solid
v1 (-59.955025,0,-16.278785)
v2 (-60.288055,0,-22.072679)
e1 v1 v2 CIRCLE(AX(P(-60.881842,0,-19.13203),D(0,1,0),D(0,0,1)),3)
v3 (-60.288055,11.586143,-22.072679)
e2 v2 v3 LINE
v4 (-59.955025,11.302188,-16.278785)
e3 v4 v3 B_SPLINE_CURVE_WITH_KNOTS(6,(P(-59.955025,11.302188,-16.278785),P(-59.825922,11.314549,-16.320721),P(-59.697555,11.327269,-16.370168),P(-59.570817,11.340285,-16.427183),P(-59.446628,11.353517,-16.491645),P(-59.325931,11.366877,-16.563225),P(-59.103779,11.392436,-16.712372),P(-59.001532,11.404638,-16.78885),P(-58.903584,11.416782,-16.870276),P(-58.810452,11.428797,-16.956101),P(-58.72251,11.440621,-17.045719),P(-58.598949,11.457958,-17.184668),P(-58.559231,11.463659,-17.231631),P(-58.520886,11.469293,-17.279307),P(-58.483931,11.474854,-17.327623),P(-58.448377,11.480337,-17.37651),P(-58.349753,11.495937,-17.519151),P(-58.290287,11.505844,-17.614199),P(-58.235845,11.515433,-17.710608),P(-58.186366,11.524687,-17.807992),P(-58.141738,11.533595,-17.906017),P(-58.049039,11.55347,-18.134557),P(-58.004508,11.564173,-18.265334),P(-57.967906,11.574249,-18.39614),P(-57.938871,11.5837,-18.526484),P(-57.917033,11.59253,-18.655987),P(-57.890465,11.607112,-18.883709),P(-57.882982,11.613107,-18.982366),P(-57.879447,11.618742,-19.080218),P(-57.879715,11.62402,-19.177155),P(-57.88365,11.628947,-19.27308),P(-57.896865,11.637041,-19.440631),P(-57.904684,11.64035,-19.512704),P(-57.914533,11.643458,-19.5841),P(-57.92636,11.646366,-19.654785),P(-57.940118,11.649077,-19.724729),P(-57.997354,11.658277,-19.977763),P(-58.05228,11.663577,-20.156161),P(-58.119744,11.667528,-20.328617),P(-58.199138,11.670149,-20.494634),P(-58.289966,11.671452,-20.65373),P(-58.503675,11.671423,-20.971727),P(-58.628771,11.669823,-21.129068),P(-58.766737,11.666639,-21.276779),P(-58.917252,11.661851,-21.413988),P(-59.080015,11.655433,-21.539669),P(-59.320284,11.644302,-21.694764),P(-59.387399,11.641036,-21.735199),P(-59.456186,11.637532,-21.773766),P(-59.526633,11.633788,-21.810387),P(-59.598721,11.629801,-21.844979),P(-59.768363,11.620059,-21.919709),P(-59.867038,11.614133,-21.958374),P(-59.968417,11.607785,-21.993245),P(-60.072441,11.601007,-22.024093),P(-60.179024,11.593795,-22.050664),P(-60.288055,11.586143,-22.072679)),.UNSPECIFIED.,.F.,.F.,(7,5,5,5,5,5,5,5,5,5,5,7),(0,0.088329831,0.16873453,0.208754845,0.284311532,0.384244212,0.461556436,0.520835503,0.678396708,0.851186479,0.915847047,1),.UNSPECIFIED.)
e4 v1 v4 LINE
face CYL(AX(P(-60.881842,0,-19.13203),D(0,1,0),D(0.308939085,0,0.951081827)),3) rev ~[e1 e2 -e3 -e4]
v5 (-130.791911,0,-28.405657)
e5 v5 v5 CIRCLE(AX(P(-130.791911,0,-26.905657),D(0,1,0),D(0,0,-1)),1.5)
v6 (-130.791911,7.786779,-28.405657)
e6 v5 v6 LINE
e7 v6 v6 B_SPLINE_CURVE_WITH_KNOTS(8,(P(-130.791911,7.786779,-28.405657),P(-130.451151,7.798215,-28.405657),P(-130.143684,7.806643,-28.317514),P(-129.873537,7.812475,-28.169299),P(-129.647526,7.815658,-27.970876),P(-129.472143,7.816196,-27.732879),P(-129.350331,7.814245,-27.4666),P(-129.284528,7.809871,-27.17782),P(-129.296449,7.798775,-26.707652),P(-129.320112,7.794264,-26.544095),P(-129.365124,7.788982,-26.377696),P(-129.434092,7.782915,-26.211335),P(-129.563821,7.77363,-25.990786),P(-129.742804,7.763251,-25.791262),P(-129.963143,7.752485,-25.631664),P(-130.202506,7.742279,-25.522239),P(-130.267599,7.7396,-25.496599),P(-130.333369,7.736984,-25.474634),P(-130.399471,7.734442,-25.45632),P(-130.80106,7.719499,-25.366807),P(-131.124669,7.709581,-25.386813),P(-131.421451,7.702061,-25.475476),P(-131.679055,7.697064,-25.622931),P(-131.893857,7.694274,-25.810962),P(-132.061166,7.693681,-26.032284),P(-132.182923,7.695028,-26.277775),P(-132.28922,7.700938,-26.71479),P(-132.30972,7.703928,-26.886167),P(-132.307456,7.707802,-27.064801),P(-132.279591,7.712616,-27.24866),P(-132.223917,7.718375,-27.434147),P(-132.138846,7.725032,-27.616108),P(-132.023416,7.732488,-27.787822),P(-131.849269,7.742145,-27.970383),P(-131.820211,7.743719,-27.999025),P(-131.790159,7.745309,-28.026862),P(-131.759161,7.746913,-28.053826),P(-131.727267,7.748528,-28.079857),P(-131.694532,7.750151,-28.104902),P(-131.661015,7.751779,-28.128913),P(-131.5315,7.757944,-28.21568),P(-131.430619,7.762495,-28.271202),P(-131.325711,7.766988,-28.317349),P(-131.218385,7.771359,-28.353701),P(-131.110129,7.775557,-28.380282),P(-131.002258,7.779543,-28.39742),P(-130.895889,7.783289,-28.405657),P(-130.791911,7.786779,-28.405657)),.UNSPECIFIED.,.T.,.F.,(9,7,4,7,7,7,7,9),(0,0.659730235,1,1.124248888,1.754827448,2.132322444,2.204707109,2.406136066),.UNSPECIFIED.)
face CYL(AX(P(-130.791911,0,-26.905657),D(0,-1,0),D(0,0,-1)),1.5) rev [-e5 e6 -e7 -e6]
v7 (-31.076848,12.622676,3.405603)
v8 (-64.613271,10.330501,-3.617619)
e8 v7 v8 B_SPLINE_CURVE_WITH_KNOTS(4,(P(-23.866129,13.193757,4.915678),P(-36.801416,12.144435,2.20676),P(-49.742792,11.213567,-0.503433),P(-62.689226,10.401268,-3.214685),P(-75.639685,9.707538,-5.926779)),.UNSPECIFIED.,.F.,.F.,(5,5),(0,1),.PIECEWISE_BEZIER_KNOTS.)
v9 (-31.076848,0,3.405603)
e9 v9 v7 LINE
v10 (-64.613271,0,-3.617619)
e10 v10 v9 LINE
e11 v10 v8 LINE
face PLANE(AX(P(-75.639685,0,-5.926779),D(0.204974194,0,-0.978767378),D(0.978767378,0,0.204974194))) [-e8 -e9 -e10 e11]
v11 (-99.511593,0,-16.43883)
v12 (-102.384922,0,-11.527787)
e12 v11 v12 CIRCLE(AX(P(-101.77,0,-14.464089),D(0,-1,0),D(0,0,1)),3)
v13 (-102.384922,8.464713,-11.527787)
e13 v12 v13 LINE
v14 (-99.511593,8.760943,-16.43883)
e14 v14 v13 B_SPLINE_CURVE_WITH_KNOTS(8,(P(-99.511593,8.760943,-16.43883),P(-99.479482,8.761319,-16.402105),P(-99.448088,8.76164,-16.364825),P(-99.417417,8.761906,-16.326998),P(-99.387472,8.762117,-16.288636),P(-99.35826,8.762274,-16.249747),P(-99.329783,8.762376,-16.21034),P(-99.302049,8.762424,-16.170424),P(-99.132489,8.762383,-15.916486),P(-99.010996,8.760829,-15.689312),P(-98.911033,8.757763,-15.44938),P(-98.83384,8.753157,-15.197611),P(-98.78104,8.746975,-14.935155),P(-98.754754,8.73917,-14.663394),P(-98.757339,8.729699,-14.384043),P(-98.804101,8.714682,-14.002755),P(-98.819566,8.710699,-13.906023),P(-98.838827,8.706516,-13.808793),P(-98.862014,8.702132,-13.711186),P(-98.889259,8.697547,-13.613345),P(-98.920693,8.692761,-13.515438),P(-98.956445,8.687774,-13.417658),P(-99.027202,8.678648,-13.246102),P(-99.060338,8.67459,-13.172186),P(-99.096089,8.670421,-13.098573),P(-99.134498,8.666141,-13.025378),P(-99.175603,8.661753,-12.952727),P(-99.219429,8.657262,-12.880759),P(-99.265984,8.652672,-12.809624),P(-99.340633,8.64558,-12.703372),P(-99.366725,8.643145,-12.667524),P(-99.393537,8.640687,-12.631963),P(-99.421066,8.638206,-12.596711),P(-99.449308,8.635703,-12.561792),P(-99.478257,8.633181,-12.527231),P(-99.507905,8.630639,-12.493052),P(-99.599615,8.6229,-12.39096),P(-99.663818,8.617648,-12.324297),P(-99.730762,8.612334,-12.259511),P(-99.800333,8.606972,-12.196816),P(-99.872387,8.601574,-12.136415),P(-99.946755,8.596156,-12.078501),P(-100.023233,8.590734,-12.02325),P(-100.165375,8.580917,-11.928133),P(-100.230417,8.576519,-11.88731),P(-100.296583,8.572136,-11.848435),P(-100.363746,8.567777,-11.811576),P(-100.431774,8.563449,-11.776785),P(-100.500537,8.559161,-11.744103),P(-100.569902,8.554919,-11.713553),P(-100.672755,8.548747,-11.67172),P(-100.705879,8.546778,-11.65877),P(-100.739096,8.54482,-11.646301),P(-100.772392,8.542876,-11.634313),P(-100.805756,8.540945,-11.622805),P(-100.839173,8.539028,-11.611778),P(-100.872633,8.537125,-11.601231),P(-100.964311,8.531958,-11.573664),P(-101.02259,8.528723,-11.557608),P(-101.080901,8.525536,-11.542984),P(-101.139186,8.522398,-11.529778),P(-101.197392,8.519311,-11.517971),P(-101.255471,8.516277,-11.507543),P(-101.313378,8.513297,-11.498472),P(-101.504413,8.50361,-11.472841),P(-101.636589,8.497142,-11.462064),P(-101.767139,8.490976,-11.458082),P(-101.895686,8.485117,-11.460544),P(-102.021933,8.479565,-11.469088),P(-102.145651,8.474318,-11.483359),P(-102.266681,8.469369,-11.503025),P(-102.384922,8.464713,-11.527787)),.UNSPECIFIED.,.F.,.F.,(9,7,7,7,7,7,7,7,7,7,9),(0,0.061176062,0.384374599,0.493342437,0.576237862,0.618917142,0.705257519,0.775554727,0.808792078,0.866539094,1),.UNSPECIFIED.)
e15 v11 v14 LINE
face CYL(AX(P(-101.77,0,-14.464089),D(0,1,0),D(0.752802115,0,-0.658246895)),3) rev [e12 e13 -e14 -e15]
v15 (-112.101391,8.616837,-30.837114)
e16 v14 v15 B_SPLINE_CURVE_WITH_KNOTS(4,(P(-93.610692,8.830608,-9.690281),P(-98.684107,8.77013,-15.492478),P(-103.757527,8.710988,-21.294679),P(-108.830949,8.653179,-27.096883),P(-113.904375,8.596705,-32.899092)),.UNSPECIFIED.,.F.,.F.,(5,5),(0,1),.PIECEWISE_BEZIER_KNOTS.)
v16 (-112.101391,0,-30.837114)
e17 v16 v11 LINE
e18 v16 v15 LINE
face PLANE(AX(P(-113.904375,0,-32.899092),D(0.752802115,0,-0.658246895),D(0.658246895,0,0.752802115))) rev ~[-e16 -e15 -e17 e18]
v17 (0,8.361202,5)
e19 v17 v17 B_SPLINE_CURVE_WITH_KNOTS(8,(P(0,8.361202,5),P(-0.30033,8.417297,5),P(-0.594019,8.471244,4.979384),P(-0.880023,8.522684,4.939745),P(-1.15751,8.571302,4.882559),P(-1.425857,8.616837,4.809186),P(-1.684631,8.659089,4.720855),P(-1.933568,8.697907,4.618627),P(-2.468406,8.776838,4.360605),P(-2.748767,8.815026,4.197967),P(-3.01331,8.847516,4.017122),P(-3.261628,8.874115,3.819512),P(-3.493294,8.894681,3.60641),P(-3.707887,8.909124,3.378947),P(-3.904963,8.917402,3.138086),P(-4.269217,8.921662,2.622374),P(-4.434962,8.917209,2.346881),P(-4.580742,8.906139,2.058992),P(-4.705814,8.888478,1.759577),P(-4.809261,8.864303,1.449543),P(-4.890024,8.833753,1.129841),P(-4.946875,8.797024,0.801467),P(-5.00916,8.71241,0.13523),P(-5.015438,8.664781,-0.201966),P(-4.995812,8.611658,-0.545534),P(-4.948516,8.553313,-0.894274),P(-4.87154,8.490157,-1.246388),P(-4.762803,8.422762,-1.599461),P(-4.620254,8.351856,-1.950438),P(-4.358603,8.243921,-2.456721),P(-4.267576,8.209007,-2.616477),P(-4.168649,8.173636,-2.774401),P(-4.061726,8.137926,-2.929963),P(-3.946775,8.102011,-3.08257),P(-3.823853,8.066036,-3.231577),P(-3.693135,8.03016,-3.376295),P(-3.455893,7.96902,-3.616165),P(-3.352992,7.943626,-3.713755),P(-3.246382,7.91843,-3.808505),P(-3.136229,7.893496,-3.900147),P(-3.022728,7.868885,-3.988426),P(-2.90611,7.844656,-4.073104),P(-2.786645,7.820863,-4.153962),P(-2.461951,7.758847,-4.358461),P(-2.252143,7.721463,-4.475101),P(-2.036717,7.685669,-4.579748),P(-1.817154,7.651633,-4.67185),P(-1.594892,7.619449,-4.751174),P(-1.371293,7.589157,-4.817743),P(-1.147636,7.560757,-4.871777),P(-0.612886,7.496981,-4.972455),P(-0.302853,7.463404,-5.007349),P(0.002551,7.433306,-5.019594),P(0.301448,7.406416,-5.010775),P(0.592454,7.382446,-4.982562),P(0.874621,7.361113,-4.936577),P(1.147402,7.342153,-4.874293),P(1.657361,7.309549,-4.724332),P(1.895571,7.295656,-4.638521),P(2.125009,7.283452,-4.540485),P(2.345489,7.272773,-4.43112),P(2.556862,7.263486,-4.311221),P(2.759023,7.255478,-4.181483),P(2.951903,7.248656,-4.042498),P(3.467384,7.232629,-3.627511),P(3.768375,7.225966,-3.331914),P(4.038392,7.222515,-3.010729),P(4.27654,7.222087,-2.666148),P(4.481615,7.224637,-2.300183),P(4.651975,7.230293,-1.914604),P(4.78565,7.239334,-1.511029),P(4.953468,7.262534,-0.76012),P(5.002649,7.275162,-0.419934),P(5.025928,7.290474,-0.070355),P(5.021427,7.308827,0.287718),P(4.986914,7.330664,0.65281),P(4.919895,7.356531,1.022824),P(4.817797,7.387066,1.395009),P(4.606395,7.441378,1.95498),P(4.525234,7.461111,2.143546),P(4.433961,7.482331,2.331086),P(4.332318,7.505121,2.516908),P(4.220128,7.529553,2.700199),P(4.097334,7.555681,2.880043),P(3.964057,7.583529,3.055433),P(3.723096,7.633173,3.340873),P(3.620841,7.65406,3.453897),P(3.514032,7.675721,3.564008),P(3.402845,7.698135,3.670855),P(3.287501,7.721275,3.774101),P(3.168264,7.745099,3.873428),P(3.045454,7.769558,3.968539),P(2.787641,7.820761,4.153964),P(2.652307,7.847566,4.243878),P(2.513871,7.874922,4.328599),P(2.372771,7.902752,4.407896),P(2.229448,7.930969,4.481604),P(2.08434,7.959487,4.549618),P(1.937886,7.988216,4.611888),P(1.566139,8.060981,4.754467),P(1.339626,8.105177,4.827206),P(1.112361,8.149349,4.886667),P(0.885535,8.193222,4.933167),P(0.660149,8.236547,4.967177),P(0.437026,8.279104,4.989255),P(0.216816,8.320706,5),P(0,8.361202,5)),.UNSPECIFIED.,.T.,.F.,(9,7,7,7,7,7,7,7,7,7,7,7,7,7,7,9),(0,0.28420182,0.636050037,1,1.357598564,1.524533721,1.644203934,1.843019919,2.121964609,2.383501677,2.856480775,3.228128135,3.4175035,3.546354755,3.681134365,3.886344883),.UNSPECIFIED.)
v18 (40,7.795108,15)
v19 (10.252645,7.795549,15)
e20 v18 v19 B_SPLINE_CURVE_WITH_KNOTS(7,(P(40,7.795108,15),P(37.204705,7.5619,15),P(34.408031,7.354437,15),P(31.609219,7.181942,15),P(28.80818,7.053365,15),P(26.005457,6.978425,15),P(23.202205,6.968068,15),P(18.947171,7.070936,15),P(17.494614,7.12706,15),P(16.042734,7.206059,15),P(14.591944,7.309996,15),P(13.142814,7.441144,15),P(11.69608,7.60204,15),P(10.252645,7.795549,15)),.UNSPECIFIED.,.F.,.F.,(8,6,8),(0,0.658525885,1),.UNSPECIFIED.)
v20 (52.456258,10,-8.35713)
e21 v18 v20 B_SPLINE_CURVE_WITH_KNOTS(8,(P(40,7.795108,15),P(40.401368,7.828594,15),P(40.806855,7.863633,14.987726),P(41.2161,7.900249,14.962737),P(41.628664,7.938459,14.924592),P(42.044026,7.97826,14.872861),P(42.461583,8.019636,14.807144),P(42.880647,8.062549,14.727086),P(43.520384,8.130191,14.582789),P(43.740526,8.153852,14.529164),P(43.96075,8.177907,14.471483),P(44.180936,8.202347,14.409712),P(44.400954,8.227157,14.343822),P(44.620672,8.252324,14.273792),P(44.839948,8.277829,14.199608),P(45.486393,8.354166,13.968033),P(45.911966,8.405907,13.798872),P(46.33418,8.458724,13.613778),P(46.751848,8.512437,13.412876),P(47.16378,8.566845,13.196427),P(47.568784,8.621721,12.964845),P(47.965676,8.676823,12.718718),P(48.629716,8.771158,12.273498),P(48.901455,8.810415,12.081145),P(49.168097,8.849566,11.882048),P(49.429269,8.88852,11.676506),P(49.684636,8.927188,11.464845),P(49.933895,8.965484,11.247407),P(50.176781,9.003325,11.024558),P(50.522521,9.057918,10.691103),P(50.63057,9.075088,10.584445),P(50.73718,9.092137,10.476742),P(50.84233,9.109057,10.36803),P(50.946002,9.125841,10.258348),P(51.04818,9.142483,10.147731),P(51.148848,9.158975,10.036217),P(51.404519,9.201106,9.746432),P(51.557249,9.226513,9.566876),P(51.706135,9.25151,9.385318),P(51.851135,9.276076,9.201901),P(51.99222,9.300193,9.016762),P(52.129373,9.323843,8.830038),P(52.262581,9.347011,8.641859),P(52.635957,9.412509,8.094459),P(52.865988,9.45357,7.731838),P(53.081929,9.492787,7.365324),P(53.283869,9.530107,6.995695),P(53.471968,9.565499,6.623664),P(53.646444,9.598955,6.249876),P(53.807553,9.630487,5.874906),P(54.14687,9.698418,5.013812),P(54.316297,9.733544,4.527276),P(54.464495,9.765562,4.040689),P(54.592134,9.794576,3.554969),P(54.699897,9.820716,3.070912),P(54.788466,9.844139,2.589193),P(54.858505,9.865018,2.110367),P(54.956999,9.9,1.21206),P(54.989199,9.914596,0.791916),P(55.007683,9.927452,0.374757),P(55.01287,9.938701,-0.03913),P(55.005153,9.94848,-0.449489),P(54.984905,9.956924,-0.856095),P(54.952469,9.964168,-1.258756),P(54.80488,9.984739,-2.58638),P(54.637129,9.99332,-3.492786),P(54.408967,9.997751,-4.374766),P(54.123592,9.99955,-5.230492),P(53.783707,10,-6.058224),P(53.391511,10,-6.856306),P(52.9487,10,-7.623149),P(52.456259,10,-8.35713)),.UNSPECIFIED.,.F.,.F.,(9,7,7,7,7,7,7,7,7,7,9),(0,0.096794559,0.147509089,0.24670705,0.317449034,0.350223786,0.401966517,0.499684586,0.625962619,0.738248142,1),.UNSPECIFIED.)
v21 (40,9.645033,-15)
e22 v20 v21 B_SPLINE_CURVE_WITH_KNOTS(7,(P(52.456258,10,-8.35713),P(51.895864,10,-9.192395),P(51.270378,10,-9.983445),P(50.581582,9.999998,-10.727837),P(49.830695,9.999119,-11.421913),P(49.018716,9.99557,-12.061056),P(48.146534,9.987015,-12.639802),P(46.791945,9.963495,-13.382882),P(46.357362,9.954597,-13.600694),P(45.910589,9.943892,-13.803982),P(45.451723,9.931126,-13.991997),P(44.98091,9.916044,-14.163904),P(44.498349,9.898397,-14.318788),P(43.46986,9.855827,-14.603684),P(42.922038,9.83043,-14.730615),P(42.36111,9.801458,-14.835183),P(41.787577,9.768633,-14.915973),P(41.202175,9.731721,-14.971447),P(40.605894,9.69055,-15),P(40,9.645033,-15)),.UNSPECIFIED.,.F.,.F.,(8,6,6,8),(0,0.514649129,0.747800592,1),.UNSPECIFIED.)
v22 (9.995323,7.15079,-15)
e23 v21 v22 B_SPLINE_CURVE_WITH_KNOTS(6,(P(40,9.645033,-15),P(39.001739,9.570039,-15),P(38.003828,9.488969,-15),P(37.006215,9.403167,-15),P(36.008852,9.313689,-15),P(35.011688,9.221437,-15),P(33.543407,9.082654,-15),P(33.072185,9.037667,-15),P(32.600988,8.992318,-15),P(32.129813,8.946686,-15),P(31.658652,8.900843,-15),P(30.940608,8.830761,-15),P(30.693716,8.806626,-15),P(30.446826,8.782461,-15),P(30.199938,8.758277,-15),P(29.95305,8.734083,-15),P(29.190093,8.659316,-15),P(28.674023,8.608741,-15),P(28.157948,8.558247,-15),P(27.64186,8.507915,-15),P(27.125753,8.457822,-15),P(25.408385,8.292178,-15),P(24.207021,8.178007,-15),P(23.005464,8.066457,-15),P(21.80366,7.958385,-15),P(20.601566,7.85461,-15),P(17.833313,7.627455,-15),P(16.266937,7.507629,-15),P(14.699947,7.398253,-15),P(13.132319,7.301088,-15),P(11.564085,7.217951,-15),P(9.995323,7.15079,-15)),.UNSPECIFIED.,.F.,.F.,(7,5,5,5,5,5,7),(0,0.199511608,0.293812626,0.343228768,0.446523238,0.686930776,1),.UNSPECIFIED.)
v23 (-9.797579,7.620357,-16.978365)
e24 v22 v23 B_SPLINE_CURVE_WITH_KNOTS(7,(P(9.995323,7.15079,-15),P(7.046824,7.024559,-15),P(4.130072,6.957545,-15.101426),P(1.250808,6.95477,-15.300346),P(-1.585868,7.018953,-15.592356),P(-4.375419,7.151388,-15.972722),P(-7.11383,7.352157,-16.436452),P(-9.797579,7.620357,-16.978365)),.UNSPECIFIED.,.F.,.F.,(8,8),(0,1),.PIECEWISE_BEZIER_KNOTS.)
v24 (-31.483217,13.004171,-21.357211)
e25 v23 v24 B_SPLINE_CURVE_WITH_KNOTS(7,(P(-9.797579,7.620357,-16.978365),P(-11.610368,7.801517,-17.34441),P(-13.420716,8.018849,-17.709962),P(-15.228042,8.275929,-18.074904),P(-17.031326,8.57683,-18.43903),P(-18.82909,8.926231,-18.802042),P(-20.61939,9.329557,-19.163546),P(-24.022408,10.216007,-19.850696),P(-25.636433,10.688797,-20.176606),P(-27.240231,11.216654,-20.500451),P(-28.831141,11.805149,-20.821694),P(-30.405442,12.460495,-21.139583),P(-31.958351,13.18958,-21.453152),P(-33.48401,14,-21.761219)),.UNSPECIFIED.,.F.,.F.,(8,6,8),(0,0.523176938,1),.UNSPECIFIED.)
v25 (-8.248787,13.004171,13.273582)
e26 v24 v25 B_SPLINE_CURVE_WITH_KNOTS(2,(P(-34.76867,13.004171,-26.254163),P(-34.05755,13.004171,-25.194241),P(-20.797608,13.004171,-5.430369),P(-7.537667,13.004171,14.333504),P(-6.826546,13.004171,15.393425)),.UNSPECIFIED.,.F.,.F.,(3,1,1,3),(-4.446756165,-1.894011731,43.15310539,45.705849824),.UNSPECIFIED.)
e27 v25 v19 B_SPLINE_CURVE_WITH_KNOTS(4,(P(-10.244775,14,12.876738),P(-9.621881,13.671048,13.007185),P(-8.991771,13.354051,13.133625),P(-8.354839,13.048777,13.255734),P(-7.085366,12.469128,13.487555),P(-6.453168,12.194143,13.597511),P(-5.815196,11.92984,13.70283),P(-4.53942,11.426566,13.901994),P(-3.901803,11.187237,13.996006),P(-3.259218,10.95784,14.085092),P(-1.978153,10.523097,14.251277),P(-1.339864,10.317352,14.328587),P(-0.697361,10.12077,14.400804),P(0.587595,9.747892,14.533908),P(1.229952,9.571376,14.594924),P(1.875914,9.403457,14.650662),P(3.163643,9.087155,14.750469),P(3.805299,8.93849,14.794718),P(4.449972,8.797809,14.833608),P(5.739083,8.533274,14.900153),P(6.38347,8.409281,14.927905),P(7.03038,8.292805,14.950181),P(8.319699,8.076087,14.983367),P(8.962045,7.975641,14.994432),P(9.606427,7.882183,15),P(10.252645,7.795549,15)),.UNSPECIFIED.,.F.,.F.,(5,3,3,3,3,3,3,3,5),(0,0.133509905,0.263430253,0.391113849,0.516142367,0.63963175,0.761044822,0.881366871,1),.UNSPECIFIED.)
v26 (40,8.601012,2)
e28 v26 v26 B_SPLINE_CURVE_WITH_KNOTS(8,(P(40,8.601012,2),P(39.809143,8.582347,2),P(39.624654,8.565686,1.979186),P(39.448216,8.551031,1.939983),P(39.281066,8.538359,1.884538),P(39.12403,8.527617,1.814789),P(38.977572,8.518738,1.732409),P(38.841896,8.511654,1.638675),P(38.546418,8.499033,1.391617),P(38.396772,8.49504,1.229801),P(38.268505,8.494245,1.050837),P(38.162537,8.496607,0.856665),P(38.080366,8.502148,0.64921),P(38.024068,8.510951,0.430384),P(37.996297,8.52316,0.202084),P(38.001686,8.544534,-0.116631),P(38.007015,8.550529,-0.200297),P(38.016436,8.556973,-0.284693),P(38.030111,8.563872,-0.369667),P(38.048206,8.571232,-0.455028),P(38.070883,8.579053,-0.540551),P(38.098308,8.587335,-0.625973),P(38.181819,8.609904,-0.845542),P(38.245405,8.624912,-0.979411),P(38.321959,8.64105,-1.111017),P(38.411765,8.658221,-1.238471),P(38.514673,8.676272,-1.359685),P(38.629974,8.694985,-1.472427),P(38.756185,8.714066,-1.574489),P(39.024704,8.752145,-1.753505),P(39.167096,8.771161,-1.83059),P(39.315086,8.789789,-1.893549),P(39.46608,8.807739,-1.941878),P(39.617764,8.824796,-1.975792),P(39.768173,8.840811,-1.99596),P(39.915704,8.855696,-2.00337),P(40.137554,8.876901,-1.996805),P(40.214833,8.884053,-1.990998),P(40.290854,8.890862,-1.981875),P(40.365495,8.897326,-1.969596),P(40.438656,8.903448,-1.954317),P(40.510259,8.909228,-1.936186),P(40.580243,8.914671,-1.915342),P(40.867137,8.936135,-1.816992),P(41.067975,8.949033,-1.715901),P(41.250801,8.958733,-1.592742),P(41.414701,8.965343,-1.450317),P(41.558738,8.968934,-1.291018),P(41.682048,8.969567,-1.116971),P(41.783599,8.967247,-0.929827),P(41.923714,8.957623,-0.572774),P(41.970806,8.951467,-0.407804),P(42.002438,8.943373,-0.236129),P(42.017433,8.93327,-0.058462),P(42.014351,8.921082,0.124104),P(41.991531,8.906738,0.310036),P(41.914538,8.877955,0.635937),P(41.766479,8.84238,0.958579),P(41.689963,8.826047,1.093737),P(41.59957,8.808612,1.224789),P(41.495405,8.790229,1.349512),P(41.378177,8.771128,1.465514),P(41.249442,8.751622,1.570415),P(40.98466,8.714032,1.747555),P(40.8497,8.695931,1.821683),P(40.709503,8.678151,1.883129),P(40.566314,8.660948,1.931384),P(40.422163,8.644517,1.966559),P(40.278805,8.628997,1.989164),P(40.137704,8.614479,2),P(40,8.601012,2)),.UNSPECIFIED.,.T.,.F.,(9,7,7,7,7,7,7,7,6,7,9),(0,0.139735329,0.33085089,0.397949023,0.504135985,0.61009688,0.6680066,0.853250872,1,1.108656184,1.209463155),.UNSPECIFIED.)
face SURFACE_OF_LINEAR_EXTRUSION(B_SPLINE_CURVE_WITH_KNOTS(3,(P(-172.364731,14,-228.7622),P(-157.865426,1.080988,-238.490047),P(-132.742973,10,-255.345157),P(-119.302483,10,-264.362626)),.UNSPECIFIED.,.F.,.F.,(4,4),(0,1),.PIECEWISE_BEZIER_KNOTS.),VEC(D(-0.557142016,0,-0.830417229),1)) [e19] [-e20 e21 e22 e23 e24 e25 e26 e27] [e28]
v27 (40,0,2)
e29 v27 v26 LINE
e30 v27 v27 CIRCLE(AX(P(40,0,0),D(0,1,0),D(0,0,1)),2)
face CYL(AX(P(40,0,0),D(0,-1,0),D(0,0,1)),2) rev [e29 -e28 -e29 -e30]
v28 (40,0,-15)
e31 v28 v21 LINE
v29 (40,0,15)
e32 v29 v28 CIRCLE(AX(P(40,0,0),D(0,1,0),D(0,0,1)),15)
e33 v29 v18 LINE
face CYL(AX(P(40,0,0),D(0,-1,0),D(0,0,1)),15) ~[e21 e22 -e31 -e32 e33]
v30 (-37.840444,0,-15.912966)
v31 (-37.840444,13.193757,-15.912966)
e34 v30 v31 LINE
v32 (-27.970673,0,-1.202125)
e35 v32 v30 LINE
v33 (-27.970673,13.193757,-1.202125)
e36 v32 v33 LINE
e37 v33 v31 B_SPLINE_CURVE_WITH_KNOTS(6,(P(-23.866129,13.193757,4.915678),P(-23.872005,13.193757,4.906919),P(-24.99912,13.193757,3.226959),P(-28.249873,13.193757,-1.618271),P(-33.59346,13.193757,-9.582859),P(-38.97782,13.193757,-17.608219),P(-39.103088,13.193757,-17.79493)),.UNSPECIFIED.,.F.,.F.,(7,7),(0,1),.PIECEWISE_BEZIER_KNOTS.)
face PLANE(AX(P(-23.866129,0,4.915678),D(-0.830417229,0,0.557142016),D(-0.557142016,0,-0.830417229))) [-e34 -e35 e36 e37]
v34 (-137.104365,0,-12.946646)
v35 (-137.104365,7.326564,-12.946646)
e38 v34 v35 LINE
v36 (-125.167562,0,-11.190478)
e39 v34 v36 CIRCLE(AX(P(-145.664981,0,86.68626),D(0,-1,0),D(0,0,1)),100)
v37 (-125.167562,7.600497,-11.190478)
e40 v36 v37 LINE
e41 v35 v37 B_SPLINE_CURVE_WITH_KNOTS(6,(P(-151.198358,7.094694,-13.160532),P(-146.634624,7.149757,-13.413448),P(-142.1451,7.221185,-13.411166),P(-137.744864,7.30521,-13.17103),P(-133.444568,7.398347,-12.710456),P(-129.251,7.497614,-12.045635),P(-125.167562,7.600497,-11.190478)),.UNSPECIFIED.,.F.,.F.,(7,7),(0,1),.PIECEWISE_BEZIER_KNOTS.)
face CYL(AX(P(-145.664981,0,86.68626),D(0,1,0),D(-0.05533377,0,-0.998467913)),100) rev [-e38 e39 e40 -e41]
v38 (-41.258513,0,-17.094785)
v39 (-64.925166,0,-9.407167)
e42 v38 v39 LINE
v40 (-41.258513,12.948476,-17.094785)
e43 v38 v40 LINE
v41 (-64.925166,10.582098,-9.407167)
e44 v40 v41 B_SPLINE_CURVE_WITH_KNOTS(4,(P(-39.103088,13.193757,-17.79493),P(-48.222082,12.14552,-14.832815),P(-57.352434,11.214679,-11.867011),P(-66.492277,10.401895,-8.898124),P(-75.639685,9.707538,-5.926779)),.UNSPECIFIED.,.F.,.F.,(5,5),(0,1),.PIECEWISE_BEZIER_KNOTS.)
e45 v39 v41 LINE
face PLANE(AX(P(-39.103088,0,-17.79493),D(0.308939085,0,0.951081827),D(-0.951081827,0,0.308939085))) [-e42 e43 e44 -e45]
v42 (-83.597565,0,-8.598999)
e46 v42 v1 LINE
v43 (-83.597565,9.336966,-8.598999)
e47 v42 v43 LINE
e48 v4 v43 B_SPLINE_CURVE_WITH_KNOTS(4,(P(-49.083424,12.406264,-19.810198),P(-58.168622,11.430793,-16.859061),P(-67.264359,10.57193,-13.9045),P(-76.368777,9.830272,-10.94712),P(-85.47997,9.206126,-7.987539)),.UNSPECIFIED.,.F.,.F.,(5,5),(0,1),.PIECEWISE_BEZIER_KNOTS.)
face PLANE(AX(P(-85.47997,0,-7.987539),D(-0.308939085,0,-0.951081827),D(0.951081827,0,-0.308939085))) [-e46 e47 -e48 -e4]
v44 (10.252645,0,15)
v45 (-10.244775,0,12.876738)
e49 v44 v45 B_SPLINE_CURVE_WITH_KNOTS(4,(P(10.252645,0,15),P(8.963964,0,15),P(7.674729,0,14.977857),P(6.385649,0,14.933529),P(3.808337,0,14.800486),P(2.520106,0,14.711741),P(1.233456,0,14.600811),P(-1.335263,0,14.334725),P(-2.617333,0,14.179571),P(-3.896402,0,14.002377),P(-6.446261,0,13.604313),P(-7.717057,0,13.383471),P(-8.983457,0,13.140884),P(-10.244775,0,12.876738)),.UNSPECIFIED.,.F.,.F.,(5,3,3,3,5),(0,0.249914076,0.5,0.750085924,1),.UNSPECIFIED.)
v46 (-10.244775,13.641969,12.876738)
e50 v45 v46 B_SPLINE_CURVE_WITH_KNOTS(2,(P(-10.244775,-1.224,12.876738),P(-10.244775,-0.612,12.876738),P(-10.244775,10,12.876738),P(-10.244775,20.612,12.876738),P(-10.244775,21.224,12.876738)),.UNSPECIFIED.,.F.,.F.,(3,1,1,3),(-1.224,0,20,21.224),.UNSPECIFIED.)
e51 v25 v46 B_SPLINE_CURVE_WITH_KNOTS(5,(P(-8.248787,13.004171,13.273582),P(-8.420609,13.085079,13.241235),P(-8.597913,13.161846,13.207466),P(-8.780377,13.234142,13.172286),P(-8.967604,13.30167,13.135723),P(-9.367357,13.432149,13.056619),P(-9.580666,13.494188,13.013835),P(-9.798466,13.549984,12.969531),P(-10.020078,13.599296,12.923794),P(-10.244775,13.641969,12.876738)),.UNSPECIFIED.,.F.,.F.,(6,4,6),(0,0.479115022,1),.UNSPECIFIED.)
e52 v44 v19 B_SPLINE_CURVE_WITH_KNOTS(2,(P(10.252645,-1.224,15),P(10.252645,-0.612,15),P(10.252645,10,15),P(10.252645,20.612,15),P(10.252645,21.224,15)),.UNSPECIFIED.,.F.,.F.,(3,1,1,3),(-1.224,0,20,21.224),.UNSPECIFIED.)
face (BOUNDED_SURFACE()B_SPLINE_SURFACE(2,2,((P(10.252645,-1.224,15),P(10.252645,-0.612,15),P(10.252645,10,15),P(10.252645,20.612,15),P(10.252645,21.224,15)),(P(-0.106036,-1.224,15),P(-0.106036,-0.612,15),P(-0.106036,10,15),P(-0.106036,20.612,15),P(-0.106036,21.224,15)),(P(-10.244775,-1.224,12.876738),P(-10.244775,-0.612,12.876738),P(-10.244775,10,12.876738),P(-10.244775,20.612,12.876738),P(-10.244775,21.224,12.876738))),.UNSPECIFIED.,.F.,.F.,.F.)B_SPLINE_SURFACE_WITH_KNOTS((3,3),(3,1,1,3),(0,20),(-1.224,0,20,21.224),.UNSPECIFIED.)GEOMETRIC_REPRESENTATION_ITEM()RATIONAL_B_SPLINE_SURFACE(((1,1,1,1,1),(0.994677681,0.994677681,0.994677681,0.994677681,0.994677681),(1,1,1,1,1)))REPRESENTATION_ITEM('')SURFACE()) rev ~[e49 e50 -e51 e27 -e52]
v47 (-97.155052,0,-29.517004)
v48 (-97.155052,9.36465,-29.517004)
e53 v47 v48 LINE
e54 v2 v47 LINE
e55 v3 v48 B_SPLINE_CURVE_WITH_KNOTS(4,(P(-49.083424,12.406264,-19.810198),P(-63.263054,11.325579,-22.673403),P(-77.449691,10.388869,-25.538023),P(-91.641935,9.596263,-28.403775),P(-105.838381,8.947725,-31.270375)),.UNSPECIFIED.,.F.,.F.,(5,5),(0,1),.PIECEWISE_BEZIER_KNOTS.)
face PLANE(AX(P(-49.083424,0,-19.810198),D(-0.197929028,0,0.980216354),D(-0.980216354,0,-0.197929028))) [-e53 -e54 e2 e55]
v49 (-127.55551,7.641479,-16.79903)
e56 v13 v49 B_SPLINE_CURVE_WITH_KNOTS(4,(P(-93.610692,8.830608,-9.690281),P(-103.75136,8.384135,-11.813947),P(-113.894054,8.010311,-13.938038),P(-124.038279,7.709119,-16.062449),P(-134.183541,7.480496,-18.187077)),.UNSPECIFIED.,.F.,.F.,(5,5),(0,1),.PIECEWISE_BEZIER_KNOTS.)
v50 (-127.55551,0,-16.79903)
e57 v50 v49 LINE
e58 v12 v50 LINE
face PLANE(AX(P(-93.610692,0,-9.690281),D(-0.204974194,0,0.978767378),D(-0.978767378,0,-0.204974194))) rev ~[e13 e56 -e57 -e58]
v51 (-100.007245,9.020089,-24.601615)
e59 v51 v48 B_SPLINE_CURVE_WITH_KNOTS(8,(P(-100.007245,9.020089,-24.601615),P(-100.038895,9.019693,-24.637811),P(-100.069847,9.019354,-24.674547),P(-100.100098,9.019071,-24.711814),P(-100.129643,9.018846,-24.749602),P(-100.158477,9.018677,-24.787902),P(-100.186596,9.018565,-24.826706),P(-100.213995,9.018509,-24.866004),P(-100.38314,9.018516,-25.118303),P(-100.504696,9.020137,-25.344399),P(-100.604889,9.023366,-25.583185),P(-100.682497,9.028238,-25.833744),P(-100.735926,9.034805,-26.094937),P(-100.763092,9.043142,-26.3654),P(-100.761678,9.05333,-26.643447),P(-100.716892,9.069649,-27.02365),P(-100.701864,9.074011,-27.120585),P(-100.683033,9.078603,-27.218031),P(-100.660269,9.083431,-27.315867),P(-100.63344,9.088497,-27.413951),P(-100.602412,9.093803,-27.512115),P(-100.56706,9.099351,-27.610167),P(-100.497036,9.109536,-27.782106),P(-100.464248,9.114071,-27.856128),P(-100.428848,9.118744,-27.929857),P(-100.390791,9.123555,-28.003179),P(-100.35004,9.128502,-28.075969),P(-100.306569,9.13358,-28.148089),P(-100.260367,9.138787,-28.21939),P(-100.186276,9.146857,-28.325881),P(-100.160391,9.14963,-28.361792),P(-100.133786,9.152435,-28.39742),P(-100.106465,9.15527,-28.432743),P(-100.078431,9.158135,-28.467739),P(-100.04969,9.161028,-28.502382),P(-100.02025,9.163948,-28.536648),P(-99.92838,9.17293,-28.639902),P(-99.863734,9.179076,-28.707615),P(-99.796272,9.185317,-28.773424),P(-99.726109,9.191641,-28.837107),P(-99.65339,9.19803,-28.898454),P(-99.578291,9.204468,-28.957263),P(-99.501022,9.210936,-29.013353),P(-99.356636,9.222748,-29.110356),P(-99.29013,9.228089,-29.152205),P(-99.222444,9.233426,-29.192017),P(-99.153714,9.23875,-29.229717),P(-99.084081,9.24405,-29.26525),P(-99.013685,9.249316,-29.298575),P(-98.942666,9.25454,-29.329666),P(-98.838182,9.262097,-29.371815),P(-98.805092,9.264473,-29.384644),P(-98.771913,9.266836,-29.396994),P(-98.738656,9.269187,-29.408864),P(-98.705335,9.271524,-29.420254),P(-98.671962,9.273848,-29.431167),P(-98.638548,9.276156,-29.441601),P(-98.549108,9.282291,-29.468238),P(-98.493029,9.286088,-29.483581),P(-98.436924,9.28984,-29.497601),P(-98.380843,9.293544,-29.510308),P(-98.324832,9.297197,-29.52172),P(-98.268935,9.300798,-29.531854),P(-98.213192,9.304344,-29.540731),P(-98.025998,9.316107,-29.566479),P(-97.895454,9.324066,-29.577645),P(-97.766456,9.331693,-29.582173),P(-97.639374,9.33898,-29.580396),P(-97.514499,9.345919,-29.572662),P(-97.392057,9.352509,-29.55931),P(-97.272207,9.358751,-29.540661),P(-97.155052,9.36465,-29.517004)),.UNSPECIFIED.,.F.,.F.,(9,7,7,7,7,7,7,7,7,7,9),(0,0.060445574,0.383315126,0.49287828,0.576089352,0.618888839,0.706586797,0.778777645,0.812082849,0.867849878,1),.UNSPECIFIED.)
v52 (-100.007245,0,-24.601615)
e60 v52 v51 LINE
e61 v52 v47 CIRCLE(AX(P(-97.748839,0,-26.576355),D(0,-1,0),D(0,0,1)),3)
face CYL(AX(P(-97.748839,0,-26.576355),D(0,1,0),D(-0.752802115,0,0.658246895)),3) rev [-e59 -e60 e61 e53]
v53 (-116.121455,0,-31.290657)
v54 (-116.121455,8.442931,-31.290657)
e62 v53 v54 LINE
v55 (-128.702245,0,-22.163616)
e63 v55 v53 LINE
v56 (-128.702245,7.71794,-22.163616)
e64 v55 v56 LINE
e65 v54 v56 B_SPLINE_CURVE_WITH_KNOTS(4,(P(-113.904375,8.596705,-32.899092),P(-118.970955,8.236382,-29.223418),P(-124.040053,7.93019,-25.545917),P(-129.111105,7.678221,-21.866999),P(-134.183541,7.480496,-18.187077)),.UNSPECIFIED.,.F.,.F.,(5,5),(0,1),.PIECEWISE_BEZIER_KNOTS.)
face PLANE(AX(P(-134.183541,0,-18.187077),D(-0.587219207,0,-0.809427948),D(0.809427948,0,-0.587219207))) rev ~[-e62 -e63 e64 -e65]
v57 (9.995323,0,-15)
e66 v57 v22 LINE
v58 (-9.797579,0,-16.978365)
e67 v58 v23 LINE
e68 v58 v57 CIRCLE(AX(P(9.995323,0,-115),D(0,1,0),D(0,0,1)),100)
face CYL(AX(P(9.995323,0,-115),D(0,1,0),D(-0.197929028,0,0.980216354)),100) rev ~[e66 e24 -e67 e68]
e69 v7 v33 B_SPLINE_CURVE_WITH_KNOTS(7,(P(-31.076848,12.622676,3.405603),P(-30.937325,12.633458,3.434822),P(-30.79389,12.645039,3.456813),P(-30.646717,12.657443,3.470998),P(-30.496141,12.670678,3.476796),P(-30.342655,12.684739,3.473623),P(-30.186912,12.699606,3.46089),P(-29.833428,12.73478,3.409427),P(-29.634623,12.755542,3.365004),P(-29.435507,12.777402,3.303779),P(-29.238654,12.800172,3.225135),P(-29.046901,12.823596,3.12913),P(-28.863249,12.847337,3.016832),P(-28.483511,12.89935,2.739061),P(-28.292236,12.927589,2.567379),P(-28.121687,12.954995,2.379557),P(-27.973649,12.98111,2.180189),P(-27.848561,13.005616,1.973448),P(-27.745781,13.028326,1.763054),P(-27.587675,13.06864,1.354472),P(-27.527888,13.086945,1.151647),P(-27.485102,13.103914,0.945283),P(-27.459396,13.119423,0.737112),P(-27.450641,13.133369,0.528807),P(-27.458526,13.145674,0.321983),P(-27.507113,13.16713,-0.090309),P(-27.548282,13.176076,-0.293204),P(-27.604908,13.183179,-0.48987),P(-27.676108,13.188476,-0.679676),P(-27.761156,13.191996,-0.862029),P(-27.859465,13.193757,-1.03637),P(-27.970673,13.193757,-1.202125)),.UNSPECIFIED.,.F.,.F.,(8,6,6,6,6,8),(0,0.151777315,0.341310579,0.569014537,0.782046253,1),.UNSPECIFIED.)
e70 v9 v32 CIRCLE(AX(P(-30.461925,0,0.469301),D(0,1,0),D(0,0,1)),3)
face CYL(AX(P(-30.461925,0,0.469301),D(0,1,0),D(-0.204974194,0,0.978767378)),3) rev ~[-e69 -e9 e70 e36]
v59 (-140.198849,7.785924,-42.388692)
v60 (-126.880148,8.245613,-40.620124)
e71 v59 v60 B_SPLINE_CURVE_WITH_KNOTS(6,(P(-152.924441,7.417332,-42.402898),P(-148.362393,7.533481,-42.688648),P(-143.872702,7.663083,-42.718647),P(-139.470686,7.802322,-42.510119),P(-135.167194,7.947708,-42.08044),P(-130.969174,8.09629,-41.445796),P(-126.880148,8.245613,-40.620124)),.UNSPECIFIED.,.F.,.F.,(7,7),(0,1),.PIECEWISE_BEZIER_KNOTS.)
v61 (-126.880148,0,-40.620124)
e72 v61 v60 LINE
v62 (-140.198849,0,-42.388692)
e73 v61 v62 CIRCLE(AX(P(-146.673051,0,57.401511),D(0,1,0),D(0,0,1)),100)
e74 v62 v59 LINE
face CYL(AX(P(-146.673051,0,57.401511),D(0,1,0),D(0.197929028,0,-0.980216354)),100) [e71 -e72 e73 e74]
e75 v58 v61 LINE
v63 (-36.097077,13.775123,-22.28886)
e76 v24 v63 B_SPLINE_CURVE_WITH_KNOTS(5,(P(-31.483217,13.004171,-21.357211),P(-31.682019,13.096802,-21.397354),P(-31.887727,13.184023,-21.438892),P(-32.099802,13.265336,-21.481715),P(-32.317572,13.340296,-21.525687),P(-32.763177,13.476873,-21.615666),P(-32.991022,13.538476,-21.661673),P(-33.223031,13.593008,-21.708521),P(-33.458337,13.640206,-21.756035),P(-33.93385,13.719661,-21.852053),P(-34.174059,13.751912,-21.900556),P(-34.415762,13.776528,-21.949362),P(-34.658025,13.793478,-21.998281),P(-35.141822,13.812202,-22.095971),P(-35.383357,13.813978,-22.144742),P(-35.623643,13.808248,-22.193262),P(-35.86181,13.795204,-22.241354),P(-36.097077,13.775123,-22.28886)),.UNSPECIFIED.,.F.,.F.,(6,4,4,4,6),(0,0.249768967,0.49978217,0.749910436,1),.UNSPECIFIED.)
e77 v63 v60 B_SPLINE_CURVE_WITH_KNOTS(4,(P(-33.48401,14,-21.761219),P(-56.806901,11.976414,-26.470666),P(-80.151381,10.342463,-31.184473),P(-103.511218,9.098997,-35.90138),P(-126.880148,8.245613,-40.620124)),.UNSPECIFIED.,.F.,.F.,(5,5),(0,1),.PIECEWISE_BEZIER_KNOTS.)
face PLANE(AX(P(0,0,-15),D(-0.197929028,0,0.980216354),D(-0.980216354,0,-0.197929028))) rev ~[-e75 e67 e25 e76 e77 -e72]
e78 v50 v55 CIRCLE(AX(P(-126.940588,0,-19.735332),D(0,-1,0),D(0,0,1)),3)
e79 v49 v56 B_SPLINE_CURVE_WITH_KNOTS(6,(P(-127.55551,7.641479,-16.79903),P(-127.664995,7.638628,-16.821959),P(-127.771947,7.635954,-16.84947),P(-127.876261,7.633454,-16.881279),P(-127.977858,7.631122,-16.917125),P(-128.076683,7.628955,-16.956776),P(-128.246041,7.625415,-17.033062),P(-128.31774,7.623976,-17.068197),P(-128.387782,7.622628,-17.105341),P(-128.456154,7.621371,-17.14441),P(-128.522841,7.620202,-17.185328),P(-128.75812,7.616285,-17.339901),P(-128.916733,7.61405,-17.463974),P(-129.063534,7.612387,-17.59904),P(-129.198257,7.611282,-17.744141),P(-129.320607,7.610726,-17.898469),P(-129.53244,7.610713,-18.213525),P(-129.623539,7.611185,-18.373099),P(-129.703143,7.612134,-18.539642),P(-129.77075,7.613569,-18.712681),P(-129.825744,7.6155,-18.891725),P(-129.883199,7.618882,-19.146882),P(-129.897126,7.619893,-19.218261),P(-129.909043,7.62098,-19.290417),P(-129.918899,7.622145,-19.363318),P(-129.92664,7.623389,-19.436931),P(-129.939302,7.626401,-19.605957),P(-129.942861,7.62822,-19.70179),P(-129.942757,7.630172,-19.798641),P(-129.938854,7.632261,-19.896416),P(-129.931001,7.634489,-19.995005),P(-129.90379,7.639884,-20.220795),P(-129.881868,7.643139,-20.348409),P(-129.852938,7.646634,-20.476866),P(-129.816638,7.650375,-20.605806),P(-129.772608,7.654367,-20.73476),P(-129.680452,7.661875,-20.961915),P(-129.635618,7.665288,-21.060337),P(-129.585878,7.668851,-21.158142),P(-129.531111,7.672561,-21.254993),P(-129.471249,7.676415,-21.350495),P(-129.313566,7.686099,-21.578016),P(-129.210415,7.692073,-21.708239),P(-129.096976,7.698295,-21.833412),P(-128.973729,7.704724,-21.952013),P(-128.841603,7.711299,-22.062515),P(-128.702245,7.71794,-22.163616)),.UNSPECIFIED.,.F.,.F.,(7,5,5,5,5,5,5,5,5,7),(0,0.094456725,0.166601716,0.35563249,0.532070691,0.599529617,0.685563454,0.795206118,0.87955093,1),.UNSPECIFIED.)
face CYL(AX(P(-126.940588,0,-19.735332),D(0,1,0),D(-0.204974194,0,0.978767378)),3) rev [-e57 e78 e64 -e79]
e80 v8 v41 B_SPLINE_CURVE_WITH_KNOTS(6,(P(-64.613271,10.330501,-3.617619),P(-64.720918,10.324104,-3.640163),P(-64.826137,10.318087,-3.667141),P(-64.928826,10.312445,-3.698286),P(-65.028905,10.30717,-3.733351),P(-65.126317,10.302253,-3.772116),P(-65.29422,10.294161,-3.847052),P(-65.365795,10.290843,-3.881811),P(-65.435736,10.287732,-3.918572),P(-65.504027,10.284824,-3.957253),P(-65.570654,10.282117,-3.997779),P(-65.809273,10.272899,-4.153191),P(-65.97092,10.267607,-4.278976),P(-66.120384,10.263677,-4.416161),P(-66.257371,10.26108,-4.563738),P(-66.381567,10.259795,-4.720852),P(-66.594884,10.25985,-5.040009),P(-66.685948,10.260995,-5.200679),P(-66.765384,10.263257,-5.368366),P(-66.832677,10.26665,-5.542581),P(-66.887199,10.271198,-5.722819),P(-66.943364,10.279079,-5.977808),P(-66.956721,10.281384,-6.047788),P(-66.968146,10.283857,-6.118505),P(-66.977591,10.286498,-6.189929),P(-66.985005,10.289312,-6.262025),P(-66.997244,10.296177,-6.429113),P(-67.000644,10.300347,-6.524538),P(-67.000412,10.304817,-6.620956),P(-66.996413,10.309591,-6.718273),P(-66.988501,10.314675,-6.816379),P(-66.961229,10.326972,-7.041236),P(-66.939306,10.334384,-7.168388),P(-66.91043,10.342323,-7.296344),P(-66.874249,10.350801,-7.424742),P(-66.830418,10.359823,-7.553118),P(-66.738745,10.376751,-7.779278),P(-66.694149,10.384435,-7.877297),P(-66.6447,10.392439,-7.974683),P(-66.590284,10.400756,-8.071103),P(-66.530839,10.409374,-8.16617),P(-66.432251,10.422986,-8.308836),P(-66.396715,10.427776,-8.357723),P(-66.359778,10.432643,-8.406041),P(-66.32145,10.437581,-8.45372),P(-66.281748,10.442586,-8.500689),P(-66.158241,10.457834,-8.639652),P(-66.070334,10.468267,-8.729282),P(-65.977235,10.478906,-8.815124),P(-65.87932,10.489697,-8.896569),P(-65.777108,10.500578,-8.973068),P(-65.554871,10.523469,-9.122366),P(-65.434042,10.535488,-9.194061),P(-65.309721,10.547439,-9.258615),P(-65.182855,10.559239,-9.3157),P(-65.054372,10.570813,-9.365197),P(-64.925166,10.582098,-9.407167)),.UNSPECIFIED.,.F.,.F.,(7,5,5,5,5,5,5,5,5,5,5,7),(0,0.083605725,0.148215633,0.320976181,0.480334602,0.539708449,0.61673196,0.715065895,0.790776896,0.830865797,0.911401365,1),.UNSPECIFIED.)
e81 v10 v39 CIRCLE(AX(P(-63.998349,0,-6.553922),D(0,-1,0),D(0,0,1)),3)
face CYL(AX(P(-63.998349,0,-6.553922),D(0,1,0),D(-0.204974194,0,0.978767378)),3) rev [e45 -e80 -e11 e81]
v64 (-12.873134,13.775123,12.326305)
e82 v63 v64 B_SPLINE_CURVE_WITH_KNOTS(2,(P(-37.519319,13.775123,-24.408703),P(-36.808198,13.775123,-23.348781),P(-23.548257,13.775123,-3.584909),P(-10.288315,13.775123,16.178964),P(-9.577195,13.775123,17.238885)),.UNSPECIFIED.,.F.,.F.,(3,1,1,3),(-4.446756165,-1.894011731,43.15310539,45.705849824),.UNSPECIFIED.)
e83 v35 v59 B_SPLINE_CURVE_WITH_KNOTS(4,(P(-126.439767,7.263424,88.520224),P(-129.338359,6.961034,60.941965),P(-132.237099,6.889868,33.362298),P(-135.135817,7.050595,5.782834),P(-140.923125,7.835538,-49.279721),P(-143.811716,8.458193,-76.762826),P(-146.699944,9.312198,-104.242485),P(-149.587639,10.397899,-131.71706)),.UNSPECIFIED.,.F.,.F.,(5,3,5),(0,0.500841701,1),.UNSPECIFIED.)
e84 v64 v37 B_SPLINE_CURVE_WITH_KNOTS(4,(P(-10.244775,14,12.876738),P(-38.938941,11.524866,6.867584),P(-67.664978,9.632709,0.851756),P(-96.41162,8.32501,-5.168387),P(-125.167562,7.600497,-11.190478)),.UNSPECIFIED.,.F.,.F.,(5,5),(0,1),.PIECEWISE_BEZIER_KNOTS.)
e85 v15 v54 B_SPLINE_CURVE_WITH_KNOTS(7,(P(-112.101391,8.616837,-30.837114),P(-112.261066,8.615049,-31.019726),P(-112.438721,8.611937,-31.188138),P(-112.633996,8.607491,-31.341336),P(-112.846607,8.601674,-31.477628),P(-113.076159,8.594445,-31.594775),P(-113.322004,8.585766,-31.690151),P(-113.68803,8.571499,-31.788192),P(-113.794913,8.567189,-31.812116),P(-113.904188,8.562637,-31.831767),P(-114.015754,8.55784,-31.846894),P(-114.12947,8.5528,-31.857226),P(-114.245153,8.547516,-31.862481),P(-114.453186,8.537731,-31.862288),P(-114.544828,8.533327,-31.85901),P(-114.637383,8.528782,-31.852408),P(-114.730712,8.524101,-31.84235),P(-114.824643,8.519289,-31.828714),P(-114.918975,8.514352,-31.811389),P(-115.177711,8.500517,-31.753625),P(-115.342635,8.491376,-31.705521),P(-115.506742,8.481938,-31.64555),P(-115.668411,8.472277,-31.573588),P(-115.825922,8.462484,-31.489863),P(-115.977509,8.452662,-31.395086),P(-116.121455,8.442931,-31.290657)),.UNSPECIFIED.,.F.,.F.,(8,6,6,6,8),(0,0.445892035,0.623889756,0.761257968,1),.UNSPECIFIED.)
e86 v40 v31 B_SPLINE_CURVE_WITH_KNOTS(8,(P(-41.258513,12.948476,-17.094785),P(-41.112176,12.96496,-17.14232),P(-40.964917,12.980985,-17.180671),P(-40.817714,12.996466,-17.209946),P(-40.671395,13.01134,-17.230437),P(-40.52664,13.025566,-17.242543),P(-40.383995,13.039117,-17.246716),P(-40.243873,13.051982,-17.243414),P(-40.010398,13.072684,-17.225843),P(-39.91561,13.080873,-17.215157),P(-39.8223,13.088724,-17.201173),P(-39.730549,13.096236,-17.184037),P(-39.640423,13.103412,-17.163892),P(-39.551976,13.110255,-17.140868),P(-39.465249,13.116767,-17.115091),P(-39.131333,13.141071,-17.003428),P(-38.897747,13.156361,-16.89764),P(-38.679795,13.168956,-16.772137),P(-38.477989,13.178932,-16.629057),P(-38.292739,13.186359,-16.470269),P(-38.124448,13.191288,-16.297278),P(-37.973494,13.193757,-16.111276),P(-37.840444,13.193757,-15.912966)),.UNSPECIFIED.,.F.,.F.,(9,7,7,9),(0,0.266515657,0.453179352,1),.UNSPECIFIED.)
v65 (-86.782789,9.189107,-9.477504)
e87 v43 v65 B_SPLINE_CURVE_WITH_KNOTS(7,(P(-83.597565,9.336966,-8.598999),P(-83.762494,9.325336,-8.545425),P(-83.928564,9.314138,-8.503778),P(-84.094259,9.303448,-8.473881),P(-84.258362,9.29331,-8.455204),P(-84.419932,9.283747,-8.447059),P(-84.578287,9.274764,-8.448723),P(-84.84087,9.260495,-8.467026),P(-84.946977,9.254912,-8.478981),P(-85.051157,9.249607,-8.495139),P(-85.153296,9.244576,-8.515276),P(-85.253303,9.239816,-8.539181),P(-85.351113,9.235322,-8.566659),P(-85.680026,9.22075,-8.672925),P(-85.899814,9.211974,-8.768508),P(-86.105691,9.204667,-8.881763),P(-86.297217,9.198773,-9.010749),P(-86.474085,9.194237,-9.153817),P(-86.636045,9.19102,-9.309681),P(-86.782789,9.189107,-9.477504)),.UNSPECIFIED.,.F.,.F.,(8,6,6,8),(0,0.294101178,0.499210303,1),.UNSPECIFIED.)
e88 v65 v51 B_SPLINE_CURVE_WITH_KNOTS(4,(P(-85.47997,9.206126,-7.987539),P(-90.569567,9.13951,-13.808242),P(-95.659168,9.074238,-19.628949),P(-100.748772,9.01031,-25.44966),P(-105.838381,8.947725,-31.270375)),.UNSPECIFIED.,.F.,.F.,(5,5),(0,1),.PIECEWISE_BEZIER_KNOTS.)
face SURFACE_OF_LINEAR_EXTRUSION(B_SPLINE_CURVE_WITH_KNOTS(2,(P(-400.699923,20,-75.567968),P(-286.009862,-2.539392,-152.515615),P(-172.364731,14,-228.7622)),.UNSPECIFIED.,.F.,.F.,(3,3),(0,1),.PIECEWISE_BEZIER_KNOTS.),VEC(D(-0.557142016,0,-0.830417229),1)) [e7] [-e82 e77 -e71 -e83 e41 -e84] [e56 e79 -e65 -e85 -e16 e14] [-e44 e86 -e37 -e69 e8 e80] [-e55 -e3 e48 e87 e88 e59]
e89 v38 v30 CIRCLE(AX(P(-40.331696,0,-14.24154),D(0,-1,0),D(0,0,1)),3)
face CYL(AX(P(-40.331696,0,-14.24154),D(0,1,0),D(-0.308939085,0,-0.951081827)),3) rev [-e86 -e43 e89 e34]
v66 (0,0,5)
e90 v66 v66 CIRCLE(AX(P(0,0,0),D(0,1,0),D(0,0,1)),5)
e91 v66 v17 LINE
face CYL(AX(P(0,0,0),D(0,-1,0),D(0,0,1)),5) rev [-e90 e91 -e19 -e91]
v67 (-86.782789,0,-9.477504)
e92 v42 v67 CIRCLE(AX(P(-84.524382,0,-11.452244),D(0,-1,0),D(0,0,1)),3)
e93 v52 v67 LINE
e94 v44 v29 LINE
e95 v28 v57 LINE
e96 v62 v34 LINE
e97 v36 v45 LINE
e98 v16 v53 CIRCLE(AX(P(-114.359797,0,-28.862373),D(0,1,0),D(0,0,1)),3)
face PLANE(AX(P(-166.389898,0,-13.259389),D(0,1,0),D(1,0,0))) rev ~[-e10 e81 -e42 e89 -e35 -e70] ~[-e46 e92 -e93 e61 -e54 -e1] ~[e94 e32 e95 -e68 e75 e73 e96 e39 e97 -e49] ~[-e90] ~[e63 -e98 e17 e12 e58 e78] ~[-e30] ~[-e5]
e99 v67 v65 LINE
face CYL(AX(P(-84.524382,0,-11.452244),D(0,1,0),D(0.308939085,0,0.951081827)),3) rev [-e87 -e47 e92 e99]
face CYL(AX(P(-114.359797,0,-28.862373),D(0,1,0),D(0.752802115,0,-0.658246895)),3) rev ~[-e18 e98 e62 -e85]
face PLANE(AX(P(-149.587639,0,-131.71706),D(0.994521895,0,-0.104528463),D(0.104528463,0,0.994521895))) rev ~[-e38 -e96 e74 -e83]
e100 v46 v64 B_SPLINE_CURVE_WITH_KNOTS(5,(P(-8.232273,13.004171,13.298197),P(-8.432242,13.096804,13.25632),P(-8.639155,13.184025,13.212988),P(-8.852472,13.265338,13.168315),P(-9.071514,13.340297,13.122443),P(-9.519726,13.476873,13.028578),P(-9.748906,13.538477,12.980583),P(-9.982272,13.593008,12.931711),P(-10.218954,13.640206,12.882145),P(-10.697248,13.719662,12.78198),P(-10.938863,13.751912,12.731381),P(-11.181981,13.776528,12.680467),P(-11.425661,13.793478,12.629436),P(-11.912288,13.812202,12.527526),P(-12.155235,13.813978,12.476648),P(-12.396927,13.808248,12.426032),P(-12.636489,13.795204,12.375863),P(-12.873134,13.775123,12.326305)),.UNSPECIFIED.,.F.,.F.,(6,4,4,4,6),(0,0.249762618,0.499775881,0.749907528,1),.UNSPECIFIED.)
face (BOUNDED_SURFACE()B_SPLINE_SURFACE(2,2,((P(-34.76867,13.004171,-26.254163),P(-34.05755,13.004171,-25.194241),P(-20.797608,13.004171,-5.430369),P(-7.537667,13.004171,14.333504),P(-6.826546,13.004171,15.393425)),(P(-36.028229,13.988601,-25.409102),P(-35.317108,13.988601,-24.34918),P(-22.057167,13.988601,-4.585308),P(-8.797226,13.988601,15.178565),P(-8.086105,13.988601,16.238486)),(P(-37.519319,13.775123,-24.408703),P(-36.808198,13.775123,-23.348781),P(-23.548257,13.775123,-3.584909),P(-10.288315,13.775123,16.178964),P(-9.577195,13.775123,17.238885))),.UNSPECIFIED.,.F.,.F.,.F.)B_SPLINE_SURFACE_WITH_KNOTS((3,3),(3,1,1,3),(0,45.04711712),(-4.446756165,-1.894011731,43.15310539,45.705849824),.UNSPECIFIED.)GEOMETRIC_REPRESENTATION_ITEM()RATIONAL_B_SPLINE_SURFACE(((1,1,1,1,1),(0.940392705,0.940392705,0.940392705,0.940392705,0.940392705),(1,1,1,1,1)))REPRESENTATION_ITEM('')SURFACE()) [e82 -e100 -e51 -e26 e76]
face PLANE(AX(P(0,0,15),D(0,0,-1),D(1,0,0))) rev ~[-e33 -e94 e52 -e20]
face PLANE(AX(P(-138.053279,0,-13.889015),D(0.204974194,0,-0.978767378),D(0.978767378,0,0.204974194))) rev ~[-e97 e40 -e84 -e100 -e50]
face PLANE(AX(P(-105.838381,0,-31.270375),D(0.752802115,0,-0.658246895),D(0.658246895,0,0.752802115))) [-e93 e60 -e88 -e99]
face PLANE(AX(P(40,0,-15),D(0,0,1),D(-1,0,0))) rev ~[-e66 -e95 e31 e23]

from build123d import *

# Parameters (mm, degrees)
SKETCH1_R               = 5
SKETCH1_R_2             = 2
BOSS_EXTRUDE1_DEPTH     = 20
FILLET1_R               = 100
CUT_EXTRUDE3_DEPTH      = 300
CUT_EXTRUDE3_DEPTH_BACK = 131
FILLET3_R               = 5
SKETCH4_R               = 1.5
CUT_EXTRUDE4_DEPTH      = 114
FILLET4_R               = 3
CUT_EXTRUDE5_DEPTH      = 133


with BuildPart() as part:
    # Sketch1 → Boss-Extrude1 (new body)
    with BuildSketch(Plane(origin=(0, 0, 0), x_dir=(1, 0, 0), z_dir=(0, 1, 0))):
        with BuildLine():
            Line((0, 15), (-139.784941349, 43.225909045))
            Line((-139.784941349, 43.225909045), (-351.875415017, 29.941322925))
            ThreePointArc((-351.875415017, 29.941322925), (-378.412739548, -9.628926804), (-333.285739517, -24.912516864))
            Line((-333.285739517, -24.912516864), (-287.823465989, 5.588948968))
            Line((-287.823465989, 5.588948968), (-138.053278996, 13.889014505))
            Line((-138.053278996, 13.889014505), (-5.919683, -13.782501703))
            Line((-5.919683, -13.782501703), (0, -15))
            Line((0, -15), (40, -15))
            ThreePointArc((40, -15), (55, 0), (40, 15))
            Line((40, 15), (0, 15))
        make_face()
        with Locations(Location((0, 0, 0), (0, 0, 270))):
            Circle(SKETCH1_R, mode=Mode.SUBTRACT)
        with Locations(Location((40, 0, 0), (0, 0, 270))):
            Circle(SKETCH1_R_2, mode=Mode.SUBTRACT)
    extrude(amount=BOSS_EXTRUDE1_DEPTH)

    # Fillet1
    fillet1_edges = [part.edges().sort_by_distance(p)[0] for p in [
        (0, 10, -15),
        (-139.784941349, 10, -43.225909045),
        (-138.053278996, 10, -13.889014505),
        (-287.823465989, 10, -5.588948968),
        (0, 10, 15),
    ]]
    fillet(fillet1_edges, radius=FILLET1_R)

    # Sketch3 → Cut-Extrude3 (cut, two sides: drawn at the far end of the back side and taken through both)
    with BuildSketch(Plane(origin=(-86.356848498, 0, -128.714426022), x_dir=(0.8304172287941746, 0, -0.557142016116002), z_dir=(0.557142016116002, 0, 0.8304172287941746)).offset(-CUT_EXTRUDE3_DEPTH_BACK)):
        with BuildLine():
            Line((0.156842574, 20), (-290.646030078, 20))
            add(Edge.make_bspline(
                [(-290.646030078, 20), (-152.53466, -2.539392014), (-15.681609056, 14)],
                knots=[0, 0, 0, 1, 1, 1], degree=2))
            add(Edge.make_bspline(
                [(-15.681609056, 14), (1.778655923, 1.080988316), (32.031463633, 10), (48.216689152, 10)],
                knots=[0, 0, 0, 0, 1, 1, 1, 1], degree=3))
            Line((48.216689152, 10), (48.216689152, 20))
            Line((48.216689152, 20), (0.156842574, 20))
        make_face()
    extrude(amount=CUT_EXTRUDE3_DEPTH + CUT_EXTRUDE3_DEPTH_BACK, mode=Mode.SUBTRACT)

    # Fillet3
    fillet3_edges = [part.edges().sort_by_distance(p)[0] for p in [
        (-21.864392185, 14, -4.442240649),
    ]]
    fillet(fillet3_edges, radius=FILLET3_R)

    # Sketch4 → Cut-Extrude4 (cut)
    with BuildSketch(Plane(origin=(0, 0, 0), x_dir=(1, 0, 0), z_dir=(0, 1, 0))):
        with Locations(Location((-147.336246923, 28.050603479, 0), (0, 0, 90))):
            Circle(SKETCH4_R)
        with Locations(Location((-130.791911053, 26.905656844, 0), (0, 0, 90))):
            Circle(SKETCH4_R)
        with Locations(Location((-364.746711272, 9.415773639, 0), (0, 0, 270))):
            Circle(SKETCH4_R)
        with Locations(Location((-348.032450789, -15.496743225, 0), (0, 0, 270))):
            Circle(SKETCH4_R)
        Polygon((-23.866128519, -4.915677567), (-39.103088127, 17.794930154), (-75.639684705, 5.926779178), align=None)
        Polygon((-49.0834237, 19.810197617), (-105.838380632, 31.270375206), (-85.479969978, 7.987539058), align=None)
        Polygon((-113.9043748, 32.899091544), (-93.610691693, 9.690280862), (-134.183540545, 18.187077125), align=None)
        Polygon((-143.989822428, 18.567691314), (-162.24368626, 36.809375165), (-173.639207374, 16.924561642), align=None)
        Polygon((-168.221096355, 36.434971648), (-179.591082035, 16.594716626), (-198.135268167, 34.561255282), align=None)
        Polygon((-186.387937739, 16.218043878), (-204.884563485, 34.138503645), (-219.662547376, 14.374009052), align=None)
        Polygon((-211.434434242, 33.728243247), (-226.175542257, 14.013067496), (-242.935285915, 31.755142949), align=None)
        Polygon((-232.71148459, 13.650854223), (-279.687517615, 11.047504647), (-249.429154901, 31.348390301), align=None)
        Polygon((-259.327642719, 30.728384548), (-327.767277309, -15.189010559), (-354.571570516, 24.762646722), align=None)
    extrude(amount=CUT_EXTRUDE4_DEPTH, mode=Mode.SUBTRACT)

    # Fillet4
    fillet4_edges = [part.edges().sort_by_distance(p)[0] for p in [
        (-23.866128519, 6.59687861, 4.915677567),
        (-75.639684705, 4.853769064, -5.926779178),
        (-39.103088127, 6.59687861, -17.794930154),
        (-49.0834237, 6.203132148, -19.810197617),
        (-85.479969978, 4.603063185, -7.987539058),
        (-105.838380632, 4.473862314, -31.270375206),
        (-93.610691693, 4.415303992, -9.690280862),
        (-134.183540545, 3.740248049, -18.187077125),
        (-113.9043748, 4.298352255, -32.899091544),
        (-143.989822428, 3.631366763, -18.567691314),
        (-173.639207374, 3.502352989, -16.924561642),
        (-162.24368626, 3.579543024, -36.809375165),
        (-179.591082035, 3.517150778, -16.594716626),
        (-198.135268167, 3.547363849, -34.561255282),
        (-168.221096355, 3.539514704, -36.434971648),
        (-204.884563485, 3.597054187, -34.138503645),
        (-186.387937739, 3.550671331, -16.218043878),
        (-219.662547376, 3.97020999, -14.374009052),
        (-242.935285915, 4.206596653, -31.755142949),
        (-226.175542257, 4.101905497, -14.013067496),
        (-211.434434242, 3.662123803, -33.728243247),
        (-279.687517615, 5.796823139, -11.047504647),
        (-232.71148459, 4.250360261, -13.650854223),
        (-249.429154901, 4.366437166, -31.348390301),
        (-259.327642719, 4.641338109, -30.728384548),
        (-354.571570516, 9.209496695, -24.762646722),
        (-327.767277309, 9.209496695, 15.189010559),
    ]]
    fillet(fillet4_edges, radius=FILLET4_R)

    # Sketch5 → Cut-Extrude5 (cut)
    with BuildSketch(Plane(origin=(0, 0, 0), x_dir=(1, 0, 0), z_dir=(0, 1, 0))):
        Polygon((-149.587638653, 131.717060473), (-120.561512139, -144.448085883), (-303.389361638, -167.783578065), (-434.641340231, 42.403156887), align=None)
    extrude(amount=CUT_EXTRUDE5_DEPTH, mode=Mode.SUBTRACT)


solid = part.part
